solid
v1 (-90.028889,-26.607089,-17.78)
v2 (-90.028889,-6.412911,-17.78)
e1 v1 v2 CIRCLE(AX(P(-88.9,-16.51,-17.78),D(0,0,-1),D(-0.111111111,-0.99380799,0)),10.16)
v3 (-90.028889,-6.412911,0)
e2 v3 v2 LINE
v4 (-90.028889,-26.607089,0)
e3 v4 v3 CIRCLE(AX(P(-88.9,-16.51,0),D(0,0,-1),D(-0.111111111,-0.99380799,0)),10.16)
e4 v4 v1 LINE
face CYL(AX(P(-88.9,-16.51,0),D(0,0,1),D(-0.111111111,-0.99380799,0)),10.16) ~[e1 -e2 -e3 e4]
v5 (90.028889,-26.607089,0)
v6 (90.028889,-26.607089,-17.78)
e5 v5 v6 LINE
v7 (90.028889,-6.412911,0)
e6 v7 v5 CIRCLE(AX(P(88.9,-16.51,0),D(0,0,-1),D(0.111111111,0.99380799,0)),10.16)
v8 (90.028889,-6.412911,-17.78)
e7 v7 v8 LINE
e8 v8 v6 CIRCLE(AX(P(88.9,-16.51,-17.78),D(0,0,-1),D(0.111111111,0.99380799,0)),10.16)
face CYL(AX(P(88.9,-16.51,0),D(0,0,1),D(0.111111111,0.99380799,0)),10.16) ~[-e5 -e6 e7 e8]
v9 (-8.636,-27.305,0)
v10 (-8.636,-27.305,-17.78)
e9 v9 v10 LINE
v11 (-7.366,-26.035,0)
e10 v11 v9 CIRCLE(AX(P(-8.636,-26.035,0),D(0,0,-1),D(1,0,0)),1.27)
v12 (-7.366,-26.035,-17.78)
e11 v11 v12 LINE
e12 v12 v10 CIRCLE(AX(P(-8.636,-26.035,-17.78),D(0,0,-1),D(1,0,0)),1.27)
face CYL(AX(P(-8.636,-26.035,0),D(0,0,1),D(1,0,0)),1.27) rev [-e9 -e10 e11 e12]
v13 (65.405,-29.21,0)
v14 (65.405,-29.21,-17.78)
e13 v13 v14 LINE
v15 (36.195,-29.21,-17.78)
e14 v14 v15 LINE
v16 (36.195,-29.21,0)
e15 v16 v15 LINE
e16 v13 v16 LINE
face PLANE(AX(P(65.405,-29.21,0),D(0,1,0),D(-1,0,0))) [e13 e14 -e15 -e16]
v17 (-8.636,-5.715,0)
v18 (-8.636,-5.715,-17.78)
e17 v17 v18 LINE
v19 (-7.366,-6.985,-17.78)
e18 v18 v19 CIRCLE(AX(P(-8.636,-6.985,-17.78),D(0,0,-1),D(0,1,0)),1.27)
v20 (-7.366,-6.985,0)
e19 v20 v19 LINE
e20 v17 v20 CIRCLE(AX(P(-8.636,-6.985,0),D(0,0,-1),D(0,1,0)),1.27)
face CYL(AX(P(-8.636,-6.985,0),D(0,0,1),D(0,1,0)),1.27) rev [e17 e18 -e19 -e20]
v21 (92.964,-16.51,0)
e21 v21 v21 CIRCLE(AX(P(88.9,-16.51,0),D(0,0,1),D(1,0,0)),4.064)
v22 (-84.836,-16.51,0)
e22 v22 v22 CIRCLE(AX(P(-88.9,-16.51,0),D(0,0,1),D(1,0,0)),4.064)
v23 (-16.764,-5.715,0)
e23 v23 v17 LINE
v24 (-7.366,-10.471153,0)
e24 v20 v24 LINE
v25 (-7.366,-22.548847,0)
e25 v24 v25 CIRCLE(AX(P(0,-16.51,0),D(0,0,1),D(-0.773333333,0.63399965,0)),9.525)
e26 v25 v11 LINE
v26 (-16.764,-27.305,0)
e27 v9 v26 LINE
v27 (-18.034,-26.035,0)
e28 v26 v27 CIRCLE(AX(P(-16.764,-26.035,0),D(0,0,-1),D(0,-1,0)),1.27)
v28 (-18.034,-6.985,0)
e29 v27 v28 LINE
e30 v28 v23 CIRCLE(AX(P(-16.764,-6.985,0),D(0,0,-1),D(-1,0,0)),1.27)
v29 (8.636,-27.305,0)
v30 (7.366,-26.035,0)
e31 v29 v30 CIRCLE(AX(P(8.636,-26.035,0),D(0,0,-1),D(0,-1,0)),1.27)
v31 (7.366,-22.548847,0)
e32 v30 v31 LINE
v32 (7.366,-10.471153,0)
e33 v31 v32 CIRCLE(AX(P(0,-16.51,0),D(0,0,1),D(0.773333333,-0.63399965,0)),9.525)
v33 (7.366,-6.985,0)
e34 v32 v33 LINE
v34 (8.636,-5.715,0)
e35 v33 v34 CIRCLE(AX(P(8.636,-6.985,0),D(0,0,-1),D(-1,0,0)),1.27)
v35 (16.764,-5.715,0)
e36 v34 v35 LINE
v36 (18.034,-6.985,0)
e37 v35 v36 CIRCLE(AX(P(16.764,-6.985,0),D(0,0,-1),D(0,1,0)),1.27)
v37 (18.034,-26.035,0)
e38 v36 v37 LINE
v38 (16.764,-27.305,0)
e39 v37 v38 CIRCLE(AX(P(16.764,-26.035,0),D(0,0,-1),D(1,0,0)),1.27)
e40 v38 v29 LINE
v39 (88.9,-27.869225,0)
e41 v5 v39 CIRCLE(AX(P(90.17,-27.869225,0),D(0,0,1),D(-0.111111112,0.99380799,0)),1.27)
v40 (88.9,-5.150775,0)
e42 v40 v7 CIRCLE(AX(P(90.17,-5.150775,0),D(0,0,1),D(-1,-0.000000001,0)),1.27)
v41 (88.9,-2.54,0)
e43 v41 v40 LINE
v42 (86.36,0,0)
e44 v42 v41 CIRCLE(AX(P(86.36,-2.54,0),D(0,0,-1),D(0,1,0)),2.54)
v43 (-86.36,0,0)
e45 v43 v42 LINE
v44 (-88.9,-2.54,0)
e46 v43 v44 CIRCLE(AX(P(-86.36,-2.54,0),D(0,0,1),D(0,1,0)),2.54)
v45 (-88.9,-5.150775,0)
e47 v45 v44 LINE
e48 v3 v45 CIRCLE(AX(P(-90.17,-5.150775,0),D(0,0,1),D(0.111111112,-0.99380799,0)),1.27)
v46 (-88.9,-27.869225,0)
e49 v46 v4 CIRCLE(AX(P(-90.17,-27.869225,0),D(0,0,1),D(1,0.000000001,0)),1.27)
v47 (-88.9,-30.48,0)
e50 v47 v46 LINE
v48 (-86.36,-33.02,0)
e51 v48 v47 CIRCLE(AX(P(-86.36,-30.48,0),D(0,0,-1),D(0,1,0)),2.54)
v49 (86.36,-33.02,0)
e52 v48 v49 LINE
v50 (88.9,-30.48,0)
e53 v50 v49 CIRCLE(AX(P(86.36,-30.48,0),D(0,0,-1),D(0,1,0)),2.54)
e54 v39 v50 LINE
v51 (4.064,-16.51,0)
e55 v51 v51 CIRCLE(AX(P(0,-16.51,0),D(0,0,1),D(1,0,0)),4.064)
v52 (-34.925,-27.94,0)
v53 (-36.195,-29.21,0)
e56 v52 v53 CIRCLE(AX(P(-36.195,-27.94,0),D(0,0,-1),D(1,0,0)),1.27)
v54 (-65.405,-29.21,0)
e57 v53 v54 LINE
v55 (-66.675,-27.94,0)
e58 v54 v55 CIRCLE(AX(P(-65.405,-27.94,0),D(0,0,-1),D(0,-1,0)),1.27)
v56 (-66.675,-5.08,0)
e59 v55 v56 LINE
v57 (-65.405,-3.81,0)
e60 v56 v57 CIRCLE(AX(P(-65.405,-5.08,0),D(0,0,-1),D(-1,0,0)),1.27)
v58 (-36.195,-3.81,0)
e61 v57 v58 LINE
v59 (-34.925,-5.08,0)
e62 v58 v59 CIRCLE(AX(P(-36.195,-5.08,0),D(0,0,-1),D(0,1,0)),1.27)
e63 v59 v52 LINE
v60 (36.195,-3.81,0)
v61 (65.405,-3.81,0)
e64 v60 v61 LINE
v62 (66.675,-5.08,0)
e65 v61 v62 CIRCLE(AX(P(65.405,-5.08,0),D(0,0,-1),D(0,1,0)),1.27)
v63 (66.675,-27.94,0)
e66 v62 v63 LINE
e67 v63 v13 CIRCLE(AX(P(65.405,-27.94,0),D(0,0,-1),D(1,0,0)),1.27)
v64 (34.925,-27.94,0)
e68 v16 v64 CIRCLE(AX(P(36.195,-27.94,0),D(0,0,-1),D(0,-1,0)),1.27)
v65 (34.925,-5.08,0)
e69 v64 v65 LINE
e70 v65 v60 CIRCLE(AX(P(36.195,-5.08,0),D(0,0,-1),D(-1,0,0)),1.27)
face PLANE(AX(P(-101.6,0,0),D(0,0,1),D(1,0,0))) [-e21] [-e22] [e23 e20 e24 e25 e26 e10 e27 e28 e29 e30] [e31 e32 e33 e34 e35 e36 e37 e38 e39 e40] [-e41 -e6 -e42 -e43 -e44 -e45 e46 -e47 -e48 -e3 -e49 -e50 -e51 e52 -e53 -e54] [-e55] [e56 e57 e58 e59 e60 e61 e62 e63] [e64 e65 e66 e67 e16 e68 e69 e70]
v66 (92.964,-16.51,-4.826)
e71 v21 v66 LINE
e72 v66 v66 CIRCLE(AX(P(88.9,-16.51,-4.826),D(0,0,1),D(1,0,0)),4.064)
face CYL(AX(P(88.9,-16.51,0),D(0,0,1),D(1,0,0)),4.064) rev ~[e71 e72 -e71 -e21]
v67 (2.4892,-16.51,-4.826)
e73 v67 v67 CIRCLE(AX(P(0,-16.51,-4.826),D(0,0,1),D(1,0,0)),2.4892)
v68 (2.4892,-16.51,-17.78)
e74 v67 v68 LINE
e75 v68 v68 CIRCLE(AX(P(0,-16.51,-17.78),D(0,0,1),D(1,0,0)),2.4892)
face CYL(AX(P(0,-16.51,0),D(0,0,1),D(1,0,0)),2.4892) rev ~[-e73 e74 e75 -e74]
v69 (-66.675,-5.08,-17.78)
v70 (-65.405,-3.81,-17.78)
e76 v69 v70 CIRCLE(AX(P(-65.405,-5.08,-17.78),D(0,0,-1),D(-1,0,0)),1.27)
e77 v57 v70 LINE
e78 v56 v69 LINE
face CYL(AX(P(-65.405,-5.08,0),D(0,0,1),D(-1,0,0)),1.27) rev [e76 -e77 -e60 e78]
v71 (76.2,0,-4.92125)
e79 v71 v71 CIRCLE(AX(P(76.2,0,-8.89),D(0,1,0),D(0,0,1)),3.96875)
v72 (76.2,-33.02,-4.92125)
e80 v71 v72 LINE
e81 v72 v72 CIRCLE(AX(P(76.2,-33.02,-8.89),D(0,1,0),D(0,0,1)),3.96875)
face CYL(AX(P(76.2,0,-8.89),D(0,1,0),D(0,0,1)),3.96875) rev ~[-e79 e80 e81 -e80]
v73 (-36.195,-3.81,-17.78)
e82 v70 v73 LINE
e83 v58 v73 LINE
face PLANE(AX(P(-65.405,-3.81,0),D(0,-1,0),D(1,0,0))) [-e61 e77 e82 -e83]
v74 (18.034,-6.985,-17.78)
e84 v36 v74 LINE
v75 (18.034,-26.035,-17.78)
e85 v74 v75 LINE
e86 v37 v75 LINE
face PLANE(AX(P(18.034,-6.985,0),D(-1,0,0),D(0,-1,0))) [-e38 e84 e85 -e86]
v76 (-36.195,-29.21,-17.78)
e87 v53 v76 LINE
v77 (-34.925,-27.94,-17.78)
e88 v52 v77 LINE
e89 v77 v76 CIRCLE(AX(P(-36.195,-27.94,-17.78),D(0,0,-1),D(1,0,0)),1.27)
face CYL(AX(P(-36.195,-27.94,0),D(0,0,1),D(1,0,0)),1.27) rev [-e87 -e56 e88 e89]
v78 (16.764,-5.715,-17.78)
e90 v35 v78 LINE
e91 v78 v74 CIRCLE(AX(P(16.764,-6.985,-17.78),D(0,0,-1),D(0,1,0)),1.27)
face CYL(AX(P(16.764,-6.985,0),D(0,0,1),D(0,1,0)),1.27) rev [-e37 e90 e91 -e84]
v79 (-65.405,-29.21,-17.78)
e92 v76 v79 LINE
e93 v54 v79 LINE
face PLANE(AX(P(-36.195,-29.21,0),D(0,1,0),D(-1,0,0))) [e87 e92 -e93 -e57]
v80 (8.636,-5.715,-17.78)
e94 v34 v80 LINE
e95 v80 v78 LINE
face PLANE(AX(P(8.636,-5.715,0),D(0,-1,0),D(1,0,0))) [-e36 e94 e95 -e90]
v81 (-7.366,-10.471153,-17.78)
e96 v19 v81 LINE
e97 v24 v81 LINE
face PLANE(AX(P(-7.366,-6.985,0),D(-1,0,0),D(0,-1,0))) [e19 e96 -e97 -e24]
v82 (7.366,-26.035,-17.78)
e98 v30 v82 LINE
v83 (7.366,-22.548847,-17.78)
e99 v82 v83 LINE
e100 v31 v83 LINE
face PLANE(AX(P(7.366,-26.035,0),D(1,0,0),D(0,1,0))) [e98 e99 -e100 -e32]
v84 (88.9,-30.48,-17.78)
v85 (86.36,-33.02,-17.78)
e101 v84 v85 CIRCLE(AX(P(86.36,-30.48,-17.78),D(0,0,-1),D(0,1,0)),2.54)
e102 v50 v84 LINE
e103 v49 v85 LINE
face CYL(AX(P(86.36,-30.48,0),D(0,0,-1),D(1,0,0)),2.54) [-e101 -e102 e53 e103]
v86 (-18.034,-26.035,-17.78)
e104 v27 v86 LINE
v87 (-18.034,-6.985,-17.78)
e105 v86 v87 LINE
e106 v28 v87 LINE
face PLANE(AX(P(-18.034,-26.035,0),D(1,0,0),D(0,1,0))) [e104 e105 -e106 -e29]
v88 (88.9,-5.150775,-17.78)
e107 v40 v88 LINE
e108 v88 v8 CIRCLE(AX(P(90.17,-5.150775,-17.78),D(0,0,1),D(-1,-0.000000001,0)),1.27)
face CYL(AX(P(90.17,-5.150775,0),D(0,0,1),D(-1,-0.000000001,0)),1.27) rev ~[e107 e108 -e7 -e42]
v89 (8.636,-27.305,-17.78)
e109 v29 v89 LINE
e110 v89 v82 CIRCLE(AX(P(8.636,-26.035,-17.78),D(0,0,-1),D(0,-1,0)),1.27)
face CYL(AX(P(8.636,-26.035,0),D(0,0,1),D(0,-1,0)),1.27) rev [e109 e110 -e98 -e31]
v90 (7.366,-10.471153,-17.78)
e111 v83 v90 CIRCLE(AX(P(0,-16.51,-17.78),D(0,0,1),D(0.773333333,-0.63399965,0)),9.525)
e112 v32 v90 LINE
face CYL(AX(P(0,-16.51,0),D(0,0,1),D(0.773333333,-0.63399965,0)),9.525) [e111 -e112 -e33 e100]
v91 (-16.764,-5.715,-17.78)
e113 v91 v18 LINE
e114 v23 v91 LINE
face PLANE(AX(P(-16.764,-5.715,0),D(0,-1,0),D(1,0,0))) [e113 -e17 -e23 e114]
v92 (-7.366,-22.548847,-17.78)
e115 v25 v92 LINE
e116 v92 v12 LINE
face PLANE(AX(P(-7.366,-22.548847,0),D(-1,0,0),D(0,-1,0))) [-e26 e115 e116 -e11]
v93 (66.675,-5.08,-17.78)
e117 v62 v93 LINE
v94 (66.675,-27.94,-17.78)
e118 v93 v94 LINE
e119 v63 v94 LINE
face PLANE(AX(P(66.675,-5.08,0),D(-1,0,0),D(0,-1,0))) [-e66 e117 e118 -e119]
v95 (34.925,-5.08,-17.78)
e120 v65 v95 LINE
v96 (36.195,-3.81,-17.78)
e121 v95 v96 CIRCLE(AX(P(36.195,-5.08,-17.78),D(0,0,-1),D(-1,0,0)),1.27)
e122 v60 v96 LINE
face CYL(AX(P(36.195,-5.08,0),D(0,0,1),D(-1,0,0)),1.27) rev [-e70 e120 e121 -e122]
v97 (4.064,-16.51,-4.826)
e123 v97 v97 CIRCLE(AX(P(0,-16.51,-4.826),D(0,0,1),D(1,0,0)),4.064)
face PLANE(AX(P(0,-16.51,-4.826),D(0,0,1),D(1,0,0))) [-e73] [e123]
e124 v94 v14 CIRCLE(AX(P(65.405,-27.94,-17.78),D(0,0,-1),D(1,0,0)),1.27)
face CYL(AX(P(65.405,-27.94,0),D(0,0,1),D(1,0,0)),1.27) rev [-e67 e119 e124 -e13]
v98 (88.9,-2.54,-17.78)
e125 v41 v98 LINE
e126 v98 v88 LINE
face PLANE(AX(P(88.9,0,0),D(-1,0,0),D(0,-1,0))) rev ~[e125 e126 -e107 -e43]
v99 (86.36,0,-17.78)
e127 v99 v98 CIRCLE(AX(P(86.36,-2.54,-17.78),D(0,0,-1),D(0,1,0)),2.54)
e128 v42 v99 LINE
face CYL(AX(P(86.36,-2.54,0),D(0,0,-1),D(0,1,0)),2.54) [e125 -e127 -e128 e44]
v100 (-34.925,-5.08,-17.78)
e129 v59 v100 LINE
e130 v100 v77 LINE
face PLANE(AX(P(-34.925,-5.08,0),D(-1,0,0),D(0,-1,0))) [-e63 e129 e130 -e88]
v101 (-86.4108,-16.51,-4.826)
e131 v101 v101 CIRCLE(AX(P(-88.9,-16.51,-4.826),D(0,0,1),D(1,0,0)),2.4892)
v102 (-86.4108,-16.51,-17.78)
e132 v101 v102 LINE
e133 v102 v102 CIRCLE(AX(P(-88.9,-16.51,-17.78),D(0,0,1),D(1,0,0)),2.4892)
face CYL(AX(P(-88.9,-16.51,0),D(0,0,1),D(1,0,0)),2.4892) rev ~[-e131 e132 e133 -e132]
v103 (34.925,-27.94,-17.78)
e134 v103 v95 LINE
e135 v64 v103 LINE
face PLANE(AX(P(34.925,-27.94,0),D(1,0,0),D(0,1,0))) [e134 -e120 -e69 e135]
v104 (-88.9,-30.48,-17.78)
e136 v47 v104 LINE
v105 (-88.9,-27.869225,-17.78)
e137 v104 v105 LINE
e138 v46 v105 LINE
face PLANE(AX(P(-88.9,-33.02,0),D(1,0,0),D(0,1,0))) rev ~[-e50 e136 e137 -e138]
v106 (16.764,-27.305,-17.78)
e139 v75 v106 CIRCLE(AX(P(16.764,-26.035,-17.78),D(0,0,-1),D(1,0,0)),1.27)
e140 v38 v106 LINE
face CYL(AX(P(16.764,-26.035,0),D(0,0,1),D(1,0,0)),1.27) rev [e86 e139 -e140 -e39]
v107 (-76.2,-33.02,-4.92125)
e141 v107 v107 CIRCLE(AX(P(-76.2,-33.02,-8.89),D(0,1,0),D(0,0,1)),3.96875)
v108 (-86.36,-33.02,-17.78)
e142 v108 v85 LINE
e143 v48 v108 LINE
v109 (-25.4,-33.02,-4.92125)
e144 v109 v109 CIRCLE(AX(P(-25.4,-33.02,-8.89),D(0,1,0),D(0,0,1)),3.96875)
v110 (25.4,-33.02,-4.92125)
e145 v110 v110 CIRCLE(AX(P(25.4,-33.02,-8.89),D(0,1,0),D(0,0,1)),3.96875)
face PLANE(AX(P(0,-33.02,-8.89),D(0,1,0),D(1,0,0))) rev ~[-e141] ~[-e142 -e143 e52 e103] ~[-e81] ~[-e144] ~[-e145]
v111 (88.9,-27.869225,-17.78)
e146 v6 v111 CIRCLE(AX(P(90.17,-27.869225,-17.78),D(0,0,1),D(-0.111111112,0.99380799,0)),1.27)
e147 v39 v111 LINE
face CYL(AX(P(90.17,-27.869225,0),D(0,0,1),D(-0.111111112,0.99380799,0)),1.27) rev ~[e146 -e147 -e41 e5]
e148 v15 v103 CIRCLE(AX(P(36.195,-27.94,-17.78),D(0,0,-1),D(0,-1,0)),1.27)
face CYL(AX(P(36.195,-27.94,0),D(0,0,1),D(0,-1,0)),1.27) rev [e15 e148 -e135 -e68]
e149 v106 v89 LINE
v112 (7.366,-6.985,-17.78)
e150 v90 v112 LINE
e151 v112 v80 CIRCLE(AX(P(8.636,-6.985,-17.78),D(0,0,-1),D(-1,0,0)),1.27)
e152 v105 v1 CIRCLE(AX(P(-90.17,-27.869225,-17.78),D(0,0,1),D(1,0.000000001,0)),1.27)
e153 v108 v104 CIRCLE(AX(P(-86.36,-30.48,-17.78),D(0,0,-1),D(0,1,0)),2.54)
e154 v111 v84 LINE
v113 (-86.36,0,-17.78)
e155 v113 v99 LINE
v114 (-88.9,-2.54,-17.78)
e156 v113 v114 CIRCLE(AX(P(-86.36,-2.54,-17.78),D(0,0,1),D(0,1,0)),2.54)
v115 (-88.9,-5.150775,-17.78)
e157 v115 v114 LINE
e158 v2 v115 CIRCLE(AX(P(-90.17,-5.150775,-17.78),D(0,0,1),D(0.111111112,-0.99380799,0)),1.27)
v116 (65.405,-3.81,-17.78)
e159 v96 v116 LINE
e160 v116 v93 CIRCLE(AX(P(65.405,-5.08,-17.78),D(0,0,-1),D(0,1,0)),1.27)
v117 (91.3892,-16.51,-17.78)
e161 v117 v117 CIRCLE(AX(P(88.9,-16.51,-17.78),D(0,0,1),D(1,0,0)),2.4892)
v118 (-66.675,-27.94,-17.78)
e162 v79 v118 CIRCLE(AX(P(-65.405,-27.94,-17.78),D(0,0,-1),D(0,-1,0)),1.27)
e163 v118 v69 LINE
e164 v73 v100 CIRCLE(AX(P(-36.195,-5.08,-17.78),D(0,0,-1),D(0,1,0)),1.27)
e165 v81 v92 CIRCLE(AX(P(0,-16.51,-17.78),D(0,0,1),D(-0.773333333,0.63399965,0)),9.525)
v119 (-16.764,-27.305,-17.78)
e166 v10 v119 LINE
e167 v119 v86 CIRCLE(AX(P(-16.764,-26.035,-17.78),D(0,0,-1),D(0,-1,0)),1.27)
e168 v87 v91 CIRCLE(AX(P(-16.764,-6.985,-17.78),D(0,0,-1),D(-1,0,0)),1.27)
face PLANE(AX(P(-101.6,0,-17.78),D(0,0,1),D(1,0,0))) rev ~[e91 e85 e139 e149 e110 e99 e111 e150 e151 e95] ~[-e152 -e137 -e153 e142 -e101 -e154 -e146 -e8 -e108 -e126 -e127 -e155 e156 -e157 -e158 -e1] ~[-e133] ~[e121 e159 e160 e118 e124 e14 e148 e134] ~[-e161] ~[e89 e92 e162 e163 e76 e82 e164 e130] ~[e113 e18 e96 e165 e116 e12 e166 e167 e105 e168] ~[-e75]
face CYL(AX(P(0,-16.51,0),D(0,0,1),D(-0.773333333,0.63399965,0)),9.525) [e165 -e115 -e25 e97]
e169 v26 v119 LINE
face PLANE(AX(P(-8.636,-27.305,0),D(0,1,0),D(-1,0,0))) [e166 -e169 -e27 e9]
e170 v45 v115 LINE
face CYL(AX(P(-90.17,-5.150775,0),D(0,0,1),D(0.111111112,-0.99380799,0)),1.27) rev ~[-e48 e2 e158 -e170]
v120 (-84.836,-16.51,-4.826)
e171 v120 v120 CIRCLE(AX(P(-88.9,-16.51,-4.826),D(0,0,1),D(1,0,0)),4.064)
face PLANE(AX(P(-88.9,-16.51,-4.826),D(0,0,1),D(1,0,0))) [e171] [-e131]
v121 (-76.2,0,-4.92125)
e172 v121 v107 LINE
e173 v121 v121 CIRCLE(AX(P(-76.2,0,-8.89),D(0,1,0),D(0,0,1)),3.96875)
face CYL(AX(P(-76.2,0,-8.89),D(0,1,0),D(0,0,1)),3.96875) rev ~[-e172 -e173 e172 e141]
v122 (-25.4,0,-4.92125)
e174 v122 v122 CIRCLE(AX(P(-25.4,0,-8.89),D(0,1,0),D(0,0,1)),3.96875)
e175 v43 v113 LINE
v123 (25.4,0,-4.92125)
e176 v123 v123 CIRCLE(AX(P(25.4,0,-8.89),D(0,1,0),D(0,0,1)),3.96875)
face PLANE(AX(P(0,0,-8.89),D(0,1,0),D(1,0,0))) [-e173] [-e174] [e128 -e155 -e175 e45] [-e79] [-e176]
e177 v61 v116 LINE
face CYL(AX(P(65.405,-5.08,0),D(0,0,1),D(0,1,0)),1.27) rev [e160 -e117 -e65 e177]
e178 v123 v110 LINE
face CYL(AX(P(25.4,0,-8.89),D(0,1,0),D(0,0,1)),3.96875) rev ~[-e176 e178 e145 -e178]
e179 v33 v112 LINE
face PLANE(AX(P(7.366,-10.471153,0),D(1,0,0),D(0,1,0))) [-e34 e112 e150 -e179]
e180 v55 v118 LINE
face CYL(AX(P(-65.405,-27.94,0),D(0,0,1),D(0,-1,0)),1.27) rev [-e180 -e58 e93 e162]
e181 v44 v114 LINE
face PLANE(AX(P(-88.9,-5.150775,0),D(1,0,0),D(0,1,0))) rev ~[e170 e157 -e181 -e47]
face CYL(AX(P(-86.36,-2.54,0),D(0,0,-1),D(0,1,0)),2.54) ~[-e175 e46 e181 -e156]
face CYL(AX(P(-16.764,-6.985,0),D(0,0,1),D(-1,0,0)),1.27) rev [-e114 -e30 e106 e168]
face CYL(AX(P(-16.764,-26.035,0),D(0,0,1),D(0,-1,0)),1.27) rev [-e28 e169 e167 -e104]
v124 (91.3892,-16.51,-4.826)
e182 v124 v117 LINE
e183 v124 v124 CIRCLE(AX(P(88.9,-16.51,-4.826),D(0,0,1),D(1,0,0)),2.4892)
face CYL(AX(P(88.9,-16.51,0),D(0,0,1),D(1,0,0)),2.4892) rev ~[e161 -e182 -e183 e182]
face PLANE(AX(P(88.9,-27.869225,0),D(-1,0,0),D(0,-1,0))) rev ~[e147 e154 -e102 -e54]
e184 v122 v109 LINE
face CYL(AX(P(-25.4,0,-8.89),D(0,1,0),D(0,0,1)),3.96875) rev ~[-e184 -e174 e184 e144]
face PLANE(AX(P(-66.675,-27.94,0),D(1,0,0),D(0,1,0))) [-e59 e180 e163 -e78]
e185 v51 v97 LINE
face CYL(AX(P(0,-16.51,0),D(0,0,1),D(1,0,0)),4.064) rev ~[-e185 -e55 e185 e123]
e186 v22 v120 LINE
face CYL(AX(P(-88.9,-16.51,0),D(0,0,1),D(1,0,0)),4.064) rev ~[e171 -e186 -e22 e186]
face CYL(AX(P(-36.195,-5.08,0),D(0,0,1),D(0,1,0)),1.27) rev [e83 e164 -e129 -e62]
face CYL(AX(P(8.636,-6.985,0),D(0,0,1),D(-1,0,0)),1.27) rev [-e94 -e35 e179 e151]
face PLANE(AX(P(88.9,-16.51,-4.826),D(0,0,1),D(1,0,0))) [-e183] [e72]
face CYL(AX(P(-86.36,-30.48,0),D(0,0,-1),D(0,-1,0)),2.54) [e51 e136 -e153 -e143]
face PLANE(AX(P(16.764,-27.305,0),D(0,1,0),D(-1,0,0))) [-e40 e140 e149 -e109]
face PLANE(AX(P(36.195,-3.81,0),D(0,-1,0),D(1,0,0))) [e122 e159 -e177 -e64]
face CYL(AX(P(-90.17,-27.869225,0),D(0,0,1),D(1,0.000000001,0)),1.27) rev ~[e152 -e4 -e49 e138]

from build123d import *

# Parameters (mm, degrees)
SKETCH1_W           = 203.2
SKETCH1_H           = 17.78
SKETCH1_R           = 3.96875
BOSS_EXTRUDE1_DEPTH = 33.02
SKETCH2_R           = 2.4892
CUT_EXTRUDE1_DEPTH  = 17.78
SKETCH3_R           = 4.064
CUT_EXTRUDE2_DEPTH  = 4.826
CUT_EXTRUDE3_DEPTH  = 17.78
CUT_EXTRUDE4_DEPTH  = 17.78
FILLET1_R           = 2.54


with BuildPart() as part:
    # Sketch1 → Boss-Extrude1 (new body)
    with BuildSketch(Plane(origin=(0, 0, 0), x_dir=(1, 0, 0), z_dir=(0, 1, 0))):
        with Locations((0, 8.89)):
            Rectangle(SKETCH1_W, SKETCH1_H)
        with Locations(Location((76.2, 8.89, 0), (0, 0, 270))):
            Circle(SKETCH1_R, mode=Mode.SUBTRACT)
        with Locations(Location((25.4, 8.89, 0), (0, 0, 270))):
            Circle(SKETCH1_R, mode=Mode.SUBTRACT)
        with Locations(Location((-25.4, 8.89, 0), (0, 0, 270))):
            Circle(SKETCH1_R, mode=Mode.SUBTRACT)
        with Locations(Location((-76.2, 8.89, 0), (0, 0, 270))):
            Circle(SKETCH1_R, mode=Mode.SUBTRACT)
    extrude(amount=-BOSS_EXTRUDE1_DEPTH)

    # Sketch2 → Cut-Extrude1 (cut)
    with BuildSketch(Plane.XY):
        with Locations((88.9, -16.51)):
            Circle(SKETCH2_R)
        with Locations((0, -16.51)):
            Circle(SKETCH2_R)
        with Locations((-88.9, -16.51)):
            Circle(SKETCH2_R)
    extrude(amount=-CUT_EXTRUDE1_DEPTH, mode=Mode.SUBTRACT)

    # Sketch3 → Cut-Extrude2 (cut)
    with BuildSketch(Plane.XY):
        with Locations((88.9, -16.51)):
            Circle(SKETCH3_R)
        with Locations((0, -16.51)):
            Circle(SKETCH3_R)
        with Locations((-88.9, -16.51)):
            Circle(SKETCH3_R)
    extrude(amount=-CUT_EXTRUDE2_DEPTH, mode=Mode.SUBTRACT)

    # Sketch4 → Cut-Extrude3 (cut)
    with BuildSketch(Plane.XY):
        with BuildLine():
            Line((-36.195, -29.21), (-65.405, -29.21))
            ThreePointArc((-65.405, -29.21), (-66.303025612, -28.838025612), (-66.675, -27.94))
            Line((-66.675, -27.94), (-66.675, -5.08))
            ThreePointArc((-66.675, -5.08), (-66.303025612, -4.181974388), (-65.405, -3.81))
            Line((-65.405, -3.81), (-36.195, -3.81))
            ThreePointArc((-36.195, -3.81), (-35.296974388, -4.181974388), (-34.925, -5.08))
            Line((-34.925, -5.08), (-34.925, -27.94))
            ThreePointArc((-34.925, -27.94), (-35.296974388, -28.838025612), (-36.195, -29.21))
        make_face()
        with BuildLine():
            Line((-8.636, -27.305), (-16.764, -27.305))
            ThreePointArc((-16.764, -27.305), (-17.662025612, -26.933025612), (-18.034, -26.035))
            Line((-18.034, -26.035), (-18.034, -6.985))
            ThreePointArc((-18.034, -6.985), (-17.662025612, -6.086974388), (-16.764, -5.715))
            Line((-16.764, -5.715), (-8.636, -5.715))
            ThreePointArc((-8.636, -5.715), (-7.737974388, -6.086974388), (-7.366, -6.985))
            Line((-7.366, -6.985), (-7.366, -10.471153339))
            ThreePointArc((-7.366, -10.471153339), (-9.525, -16.51), (-7.366, -22.548846661))
            Line((-7.366, -22.548846661), (-7.366, -26.035))
            ThreePointArc((-7.366, -26.035), (-7.737974388, -26.933025612), (-8.636, -27.305))
        make_face()
        with BuildLine():
            Line((36.195, -3.81), (65.405, -3.81))
            ThreePointArc((65.405, -3.81), (66.303025612, -4.181974388), (66.675, -5.08))
            Line((66.675, -5.08), (66.675, -27.94))
            ThreePointArc((66.675, -27.94), (66.303025612, -28.838025612), (65.405, -29.21))
            Line((65.405, -29.21), (36.195, -29.21))
            ThreePointArc((36.195, -29.21), (35.296974388, -28.838025612), (34.925, -27.94))
            Line((34.925, -27.94), (34.925, -5.08))
            ThreePointArc((34.925, -5.08), (35.296974388, -4.181974388), (36.195, -3.81))
        make_face()
        with BuildLine():
            Line((7.366, -26.035), (7.366, -22.548846661))
            ThreePointArc((7.366, -22.548846661), (9.525, -16.51), (7.366, -10.471153339))
            Line((7.366, -10.471153339), (7.366, -6.985))
            ThreePointArc((7.366, -6.985), (7.737974388, -6.086974388), (8.636, -5.715))
            Line((8.636, -5.715), (16.764, -5.715))
            ThreePointArc((16.764, -5.715), (17.662025612, -6.086974388), (18.034, -6.985))
            Line((18.034, -6.985), (18.034, -26.035))
            ThreePointArc((18.034, -26.035), (17.662025612, -26.933025612), (16.764, -27.305))
            Line((16.764, -27.305), (8.636, -27.305))
            ThreePointArc((8.636, -27.305), (7.737974388, -26.933025612), (7.366, -26.035))
        make_face()
    extrude(amount=-CUT_EXTRUDE3_DEPTH, mode=Mode.SUBTRACT)

    # Sketch5 → Cut-Extrude4 (cut)
    with BuildSketch(Plane.XY):
        with BuildLine():
            Line((88.9, -27.869225326), (88.9, -33.02))
            Line((88.9, -33.02), (101.6, -33.02))
            Line((101.6, -33.02), (101.6, 0))
            Line((101.6, 0), (88.9, 0))
            Line((88.9, 0), (88.9, -5.150774674))
            ThreePointArc((88.9, -5.150774674), (89.22339789, -5.997441341), (90.028888889, -6.412910822))
            ThreePointArc((90.028888889, -6.412910822), (99.06, -16.51), (90.028888889, -26.607089178))
            ThreePointArc((90.028888889, -26.607089178), (89.22339789, -27.022558659), (88.9, -27.869225326))
        make_face()
        with BuildLine():
            Line((-88.9, -5.150774674), (-88.9, 0))
            Line((-88.9, 0), (-101.6, 0))
            Line((-101.6, 0), (-101.6, -33.02))
            Line((-101.6, -33.02), (-88.9, -33.02))
            Line((-88.9, -33.02), (-88.9, -27.869225326))
            ThreePointArc((-88.9, -27.869225326), (-89.22339789, -27.022558659), (-90.028888889, -26.607089178))
            ThreePointArc((-90.028888889, -26.607089178), (-99.06, -16.51), (-90.028888889, -6.412910822))
            ThreePointArc((-90.028888889, -6.412910822), (-89.22339789, -5.997441341), (-88.9, -5.150774674))
        make_face()
    extrude(amount=-CUT_EXTRUDE4_DEPTH, mode=Mode.SUBTRACT)

    # Fillet1
    fillet1_edges = [part.edges().sort_by_distance(p)[0] for p in [
        (88.9, 0, -8.89),
        (88.9, -33.02, -8.89),
        (-88.9, 0, -8.89),
        (-88.9, -33.02, -8.89),
    ]]
    fillet(fillet1_edges, radius=FILLET1_R)


solid = part.part
